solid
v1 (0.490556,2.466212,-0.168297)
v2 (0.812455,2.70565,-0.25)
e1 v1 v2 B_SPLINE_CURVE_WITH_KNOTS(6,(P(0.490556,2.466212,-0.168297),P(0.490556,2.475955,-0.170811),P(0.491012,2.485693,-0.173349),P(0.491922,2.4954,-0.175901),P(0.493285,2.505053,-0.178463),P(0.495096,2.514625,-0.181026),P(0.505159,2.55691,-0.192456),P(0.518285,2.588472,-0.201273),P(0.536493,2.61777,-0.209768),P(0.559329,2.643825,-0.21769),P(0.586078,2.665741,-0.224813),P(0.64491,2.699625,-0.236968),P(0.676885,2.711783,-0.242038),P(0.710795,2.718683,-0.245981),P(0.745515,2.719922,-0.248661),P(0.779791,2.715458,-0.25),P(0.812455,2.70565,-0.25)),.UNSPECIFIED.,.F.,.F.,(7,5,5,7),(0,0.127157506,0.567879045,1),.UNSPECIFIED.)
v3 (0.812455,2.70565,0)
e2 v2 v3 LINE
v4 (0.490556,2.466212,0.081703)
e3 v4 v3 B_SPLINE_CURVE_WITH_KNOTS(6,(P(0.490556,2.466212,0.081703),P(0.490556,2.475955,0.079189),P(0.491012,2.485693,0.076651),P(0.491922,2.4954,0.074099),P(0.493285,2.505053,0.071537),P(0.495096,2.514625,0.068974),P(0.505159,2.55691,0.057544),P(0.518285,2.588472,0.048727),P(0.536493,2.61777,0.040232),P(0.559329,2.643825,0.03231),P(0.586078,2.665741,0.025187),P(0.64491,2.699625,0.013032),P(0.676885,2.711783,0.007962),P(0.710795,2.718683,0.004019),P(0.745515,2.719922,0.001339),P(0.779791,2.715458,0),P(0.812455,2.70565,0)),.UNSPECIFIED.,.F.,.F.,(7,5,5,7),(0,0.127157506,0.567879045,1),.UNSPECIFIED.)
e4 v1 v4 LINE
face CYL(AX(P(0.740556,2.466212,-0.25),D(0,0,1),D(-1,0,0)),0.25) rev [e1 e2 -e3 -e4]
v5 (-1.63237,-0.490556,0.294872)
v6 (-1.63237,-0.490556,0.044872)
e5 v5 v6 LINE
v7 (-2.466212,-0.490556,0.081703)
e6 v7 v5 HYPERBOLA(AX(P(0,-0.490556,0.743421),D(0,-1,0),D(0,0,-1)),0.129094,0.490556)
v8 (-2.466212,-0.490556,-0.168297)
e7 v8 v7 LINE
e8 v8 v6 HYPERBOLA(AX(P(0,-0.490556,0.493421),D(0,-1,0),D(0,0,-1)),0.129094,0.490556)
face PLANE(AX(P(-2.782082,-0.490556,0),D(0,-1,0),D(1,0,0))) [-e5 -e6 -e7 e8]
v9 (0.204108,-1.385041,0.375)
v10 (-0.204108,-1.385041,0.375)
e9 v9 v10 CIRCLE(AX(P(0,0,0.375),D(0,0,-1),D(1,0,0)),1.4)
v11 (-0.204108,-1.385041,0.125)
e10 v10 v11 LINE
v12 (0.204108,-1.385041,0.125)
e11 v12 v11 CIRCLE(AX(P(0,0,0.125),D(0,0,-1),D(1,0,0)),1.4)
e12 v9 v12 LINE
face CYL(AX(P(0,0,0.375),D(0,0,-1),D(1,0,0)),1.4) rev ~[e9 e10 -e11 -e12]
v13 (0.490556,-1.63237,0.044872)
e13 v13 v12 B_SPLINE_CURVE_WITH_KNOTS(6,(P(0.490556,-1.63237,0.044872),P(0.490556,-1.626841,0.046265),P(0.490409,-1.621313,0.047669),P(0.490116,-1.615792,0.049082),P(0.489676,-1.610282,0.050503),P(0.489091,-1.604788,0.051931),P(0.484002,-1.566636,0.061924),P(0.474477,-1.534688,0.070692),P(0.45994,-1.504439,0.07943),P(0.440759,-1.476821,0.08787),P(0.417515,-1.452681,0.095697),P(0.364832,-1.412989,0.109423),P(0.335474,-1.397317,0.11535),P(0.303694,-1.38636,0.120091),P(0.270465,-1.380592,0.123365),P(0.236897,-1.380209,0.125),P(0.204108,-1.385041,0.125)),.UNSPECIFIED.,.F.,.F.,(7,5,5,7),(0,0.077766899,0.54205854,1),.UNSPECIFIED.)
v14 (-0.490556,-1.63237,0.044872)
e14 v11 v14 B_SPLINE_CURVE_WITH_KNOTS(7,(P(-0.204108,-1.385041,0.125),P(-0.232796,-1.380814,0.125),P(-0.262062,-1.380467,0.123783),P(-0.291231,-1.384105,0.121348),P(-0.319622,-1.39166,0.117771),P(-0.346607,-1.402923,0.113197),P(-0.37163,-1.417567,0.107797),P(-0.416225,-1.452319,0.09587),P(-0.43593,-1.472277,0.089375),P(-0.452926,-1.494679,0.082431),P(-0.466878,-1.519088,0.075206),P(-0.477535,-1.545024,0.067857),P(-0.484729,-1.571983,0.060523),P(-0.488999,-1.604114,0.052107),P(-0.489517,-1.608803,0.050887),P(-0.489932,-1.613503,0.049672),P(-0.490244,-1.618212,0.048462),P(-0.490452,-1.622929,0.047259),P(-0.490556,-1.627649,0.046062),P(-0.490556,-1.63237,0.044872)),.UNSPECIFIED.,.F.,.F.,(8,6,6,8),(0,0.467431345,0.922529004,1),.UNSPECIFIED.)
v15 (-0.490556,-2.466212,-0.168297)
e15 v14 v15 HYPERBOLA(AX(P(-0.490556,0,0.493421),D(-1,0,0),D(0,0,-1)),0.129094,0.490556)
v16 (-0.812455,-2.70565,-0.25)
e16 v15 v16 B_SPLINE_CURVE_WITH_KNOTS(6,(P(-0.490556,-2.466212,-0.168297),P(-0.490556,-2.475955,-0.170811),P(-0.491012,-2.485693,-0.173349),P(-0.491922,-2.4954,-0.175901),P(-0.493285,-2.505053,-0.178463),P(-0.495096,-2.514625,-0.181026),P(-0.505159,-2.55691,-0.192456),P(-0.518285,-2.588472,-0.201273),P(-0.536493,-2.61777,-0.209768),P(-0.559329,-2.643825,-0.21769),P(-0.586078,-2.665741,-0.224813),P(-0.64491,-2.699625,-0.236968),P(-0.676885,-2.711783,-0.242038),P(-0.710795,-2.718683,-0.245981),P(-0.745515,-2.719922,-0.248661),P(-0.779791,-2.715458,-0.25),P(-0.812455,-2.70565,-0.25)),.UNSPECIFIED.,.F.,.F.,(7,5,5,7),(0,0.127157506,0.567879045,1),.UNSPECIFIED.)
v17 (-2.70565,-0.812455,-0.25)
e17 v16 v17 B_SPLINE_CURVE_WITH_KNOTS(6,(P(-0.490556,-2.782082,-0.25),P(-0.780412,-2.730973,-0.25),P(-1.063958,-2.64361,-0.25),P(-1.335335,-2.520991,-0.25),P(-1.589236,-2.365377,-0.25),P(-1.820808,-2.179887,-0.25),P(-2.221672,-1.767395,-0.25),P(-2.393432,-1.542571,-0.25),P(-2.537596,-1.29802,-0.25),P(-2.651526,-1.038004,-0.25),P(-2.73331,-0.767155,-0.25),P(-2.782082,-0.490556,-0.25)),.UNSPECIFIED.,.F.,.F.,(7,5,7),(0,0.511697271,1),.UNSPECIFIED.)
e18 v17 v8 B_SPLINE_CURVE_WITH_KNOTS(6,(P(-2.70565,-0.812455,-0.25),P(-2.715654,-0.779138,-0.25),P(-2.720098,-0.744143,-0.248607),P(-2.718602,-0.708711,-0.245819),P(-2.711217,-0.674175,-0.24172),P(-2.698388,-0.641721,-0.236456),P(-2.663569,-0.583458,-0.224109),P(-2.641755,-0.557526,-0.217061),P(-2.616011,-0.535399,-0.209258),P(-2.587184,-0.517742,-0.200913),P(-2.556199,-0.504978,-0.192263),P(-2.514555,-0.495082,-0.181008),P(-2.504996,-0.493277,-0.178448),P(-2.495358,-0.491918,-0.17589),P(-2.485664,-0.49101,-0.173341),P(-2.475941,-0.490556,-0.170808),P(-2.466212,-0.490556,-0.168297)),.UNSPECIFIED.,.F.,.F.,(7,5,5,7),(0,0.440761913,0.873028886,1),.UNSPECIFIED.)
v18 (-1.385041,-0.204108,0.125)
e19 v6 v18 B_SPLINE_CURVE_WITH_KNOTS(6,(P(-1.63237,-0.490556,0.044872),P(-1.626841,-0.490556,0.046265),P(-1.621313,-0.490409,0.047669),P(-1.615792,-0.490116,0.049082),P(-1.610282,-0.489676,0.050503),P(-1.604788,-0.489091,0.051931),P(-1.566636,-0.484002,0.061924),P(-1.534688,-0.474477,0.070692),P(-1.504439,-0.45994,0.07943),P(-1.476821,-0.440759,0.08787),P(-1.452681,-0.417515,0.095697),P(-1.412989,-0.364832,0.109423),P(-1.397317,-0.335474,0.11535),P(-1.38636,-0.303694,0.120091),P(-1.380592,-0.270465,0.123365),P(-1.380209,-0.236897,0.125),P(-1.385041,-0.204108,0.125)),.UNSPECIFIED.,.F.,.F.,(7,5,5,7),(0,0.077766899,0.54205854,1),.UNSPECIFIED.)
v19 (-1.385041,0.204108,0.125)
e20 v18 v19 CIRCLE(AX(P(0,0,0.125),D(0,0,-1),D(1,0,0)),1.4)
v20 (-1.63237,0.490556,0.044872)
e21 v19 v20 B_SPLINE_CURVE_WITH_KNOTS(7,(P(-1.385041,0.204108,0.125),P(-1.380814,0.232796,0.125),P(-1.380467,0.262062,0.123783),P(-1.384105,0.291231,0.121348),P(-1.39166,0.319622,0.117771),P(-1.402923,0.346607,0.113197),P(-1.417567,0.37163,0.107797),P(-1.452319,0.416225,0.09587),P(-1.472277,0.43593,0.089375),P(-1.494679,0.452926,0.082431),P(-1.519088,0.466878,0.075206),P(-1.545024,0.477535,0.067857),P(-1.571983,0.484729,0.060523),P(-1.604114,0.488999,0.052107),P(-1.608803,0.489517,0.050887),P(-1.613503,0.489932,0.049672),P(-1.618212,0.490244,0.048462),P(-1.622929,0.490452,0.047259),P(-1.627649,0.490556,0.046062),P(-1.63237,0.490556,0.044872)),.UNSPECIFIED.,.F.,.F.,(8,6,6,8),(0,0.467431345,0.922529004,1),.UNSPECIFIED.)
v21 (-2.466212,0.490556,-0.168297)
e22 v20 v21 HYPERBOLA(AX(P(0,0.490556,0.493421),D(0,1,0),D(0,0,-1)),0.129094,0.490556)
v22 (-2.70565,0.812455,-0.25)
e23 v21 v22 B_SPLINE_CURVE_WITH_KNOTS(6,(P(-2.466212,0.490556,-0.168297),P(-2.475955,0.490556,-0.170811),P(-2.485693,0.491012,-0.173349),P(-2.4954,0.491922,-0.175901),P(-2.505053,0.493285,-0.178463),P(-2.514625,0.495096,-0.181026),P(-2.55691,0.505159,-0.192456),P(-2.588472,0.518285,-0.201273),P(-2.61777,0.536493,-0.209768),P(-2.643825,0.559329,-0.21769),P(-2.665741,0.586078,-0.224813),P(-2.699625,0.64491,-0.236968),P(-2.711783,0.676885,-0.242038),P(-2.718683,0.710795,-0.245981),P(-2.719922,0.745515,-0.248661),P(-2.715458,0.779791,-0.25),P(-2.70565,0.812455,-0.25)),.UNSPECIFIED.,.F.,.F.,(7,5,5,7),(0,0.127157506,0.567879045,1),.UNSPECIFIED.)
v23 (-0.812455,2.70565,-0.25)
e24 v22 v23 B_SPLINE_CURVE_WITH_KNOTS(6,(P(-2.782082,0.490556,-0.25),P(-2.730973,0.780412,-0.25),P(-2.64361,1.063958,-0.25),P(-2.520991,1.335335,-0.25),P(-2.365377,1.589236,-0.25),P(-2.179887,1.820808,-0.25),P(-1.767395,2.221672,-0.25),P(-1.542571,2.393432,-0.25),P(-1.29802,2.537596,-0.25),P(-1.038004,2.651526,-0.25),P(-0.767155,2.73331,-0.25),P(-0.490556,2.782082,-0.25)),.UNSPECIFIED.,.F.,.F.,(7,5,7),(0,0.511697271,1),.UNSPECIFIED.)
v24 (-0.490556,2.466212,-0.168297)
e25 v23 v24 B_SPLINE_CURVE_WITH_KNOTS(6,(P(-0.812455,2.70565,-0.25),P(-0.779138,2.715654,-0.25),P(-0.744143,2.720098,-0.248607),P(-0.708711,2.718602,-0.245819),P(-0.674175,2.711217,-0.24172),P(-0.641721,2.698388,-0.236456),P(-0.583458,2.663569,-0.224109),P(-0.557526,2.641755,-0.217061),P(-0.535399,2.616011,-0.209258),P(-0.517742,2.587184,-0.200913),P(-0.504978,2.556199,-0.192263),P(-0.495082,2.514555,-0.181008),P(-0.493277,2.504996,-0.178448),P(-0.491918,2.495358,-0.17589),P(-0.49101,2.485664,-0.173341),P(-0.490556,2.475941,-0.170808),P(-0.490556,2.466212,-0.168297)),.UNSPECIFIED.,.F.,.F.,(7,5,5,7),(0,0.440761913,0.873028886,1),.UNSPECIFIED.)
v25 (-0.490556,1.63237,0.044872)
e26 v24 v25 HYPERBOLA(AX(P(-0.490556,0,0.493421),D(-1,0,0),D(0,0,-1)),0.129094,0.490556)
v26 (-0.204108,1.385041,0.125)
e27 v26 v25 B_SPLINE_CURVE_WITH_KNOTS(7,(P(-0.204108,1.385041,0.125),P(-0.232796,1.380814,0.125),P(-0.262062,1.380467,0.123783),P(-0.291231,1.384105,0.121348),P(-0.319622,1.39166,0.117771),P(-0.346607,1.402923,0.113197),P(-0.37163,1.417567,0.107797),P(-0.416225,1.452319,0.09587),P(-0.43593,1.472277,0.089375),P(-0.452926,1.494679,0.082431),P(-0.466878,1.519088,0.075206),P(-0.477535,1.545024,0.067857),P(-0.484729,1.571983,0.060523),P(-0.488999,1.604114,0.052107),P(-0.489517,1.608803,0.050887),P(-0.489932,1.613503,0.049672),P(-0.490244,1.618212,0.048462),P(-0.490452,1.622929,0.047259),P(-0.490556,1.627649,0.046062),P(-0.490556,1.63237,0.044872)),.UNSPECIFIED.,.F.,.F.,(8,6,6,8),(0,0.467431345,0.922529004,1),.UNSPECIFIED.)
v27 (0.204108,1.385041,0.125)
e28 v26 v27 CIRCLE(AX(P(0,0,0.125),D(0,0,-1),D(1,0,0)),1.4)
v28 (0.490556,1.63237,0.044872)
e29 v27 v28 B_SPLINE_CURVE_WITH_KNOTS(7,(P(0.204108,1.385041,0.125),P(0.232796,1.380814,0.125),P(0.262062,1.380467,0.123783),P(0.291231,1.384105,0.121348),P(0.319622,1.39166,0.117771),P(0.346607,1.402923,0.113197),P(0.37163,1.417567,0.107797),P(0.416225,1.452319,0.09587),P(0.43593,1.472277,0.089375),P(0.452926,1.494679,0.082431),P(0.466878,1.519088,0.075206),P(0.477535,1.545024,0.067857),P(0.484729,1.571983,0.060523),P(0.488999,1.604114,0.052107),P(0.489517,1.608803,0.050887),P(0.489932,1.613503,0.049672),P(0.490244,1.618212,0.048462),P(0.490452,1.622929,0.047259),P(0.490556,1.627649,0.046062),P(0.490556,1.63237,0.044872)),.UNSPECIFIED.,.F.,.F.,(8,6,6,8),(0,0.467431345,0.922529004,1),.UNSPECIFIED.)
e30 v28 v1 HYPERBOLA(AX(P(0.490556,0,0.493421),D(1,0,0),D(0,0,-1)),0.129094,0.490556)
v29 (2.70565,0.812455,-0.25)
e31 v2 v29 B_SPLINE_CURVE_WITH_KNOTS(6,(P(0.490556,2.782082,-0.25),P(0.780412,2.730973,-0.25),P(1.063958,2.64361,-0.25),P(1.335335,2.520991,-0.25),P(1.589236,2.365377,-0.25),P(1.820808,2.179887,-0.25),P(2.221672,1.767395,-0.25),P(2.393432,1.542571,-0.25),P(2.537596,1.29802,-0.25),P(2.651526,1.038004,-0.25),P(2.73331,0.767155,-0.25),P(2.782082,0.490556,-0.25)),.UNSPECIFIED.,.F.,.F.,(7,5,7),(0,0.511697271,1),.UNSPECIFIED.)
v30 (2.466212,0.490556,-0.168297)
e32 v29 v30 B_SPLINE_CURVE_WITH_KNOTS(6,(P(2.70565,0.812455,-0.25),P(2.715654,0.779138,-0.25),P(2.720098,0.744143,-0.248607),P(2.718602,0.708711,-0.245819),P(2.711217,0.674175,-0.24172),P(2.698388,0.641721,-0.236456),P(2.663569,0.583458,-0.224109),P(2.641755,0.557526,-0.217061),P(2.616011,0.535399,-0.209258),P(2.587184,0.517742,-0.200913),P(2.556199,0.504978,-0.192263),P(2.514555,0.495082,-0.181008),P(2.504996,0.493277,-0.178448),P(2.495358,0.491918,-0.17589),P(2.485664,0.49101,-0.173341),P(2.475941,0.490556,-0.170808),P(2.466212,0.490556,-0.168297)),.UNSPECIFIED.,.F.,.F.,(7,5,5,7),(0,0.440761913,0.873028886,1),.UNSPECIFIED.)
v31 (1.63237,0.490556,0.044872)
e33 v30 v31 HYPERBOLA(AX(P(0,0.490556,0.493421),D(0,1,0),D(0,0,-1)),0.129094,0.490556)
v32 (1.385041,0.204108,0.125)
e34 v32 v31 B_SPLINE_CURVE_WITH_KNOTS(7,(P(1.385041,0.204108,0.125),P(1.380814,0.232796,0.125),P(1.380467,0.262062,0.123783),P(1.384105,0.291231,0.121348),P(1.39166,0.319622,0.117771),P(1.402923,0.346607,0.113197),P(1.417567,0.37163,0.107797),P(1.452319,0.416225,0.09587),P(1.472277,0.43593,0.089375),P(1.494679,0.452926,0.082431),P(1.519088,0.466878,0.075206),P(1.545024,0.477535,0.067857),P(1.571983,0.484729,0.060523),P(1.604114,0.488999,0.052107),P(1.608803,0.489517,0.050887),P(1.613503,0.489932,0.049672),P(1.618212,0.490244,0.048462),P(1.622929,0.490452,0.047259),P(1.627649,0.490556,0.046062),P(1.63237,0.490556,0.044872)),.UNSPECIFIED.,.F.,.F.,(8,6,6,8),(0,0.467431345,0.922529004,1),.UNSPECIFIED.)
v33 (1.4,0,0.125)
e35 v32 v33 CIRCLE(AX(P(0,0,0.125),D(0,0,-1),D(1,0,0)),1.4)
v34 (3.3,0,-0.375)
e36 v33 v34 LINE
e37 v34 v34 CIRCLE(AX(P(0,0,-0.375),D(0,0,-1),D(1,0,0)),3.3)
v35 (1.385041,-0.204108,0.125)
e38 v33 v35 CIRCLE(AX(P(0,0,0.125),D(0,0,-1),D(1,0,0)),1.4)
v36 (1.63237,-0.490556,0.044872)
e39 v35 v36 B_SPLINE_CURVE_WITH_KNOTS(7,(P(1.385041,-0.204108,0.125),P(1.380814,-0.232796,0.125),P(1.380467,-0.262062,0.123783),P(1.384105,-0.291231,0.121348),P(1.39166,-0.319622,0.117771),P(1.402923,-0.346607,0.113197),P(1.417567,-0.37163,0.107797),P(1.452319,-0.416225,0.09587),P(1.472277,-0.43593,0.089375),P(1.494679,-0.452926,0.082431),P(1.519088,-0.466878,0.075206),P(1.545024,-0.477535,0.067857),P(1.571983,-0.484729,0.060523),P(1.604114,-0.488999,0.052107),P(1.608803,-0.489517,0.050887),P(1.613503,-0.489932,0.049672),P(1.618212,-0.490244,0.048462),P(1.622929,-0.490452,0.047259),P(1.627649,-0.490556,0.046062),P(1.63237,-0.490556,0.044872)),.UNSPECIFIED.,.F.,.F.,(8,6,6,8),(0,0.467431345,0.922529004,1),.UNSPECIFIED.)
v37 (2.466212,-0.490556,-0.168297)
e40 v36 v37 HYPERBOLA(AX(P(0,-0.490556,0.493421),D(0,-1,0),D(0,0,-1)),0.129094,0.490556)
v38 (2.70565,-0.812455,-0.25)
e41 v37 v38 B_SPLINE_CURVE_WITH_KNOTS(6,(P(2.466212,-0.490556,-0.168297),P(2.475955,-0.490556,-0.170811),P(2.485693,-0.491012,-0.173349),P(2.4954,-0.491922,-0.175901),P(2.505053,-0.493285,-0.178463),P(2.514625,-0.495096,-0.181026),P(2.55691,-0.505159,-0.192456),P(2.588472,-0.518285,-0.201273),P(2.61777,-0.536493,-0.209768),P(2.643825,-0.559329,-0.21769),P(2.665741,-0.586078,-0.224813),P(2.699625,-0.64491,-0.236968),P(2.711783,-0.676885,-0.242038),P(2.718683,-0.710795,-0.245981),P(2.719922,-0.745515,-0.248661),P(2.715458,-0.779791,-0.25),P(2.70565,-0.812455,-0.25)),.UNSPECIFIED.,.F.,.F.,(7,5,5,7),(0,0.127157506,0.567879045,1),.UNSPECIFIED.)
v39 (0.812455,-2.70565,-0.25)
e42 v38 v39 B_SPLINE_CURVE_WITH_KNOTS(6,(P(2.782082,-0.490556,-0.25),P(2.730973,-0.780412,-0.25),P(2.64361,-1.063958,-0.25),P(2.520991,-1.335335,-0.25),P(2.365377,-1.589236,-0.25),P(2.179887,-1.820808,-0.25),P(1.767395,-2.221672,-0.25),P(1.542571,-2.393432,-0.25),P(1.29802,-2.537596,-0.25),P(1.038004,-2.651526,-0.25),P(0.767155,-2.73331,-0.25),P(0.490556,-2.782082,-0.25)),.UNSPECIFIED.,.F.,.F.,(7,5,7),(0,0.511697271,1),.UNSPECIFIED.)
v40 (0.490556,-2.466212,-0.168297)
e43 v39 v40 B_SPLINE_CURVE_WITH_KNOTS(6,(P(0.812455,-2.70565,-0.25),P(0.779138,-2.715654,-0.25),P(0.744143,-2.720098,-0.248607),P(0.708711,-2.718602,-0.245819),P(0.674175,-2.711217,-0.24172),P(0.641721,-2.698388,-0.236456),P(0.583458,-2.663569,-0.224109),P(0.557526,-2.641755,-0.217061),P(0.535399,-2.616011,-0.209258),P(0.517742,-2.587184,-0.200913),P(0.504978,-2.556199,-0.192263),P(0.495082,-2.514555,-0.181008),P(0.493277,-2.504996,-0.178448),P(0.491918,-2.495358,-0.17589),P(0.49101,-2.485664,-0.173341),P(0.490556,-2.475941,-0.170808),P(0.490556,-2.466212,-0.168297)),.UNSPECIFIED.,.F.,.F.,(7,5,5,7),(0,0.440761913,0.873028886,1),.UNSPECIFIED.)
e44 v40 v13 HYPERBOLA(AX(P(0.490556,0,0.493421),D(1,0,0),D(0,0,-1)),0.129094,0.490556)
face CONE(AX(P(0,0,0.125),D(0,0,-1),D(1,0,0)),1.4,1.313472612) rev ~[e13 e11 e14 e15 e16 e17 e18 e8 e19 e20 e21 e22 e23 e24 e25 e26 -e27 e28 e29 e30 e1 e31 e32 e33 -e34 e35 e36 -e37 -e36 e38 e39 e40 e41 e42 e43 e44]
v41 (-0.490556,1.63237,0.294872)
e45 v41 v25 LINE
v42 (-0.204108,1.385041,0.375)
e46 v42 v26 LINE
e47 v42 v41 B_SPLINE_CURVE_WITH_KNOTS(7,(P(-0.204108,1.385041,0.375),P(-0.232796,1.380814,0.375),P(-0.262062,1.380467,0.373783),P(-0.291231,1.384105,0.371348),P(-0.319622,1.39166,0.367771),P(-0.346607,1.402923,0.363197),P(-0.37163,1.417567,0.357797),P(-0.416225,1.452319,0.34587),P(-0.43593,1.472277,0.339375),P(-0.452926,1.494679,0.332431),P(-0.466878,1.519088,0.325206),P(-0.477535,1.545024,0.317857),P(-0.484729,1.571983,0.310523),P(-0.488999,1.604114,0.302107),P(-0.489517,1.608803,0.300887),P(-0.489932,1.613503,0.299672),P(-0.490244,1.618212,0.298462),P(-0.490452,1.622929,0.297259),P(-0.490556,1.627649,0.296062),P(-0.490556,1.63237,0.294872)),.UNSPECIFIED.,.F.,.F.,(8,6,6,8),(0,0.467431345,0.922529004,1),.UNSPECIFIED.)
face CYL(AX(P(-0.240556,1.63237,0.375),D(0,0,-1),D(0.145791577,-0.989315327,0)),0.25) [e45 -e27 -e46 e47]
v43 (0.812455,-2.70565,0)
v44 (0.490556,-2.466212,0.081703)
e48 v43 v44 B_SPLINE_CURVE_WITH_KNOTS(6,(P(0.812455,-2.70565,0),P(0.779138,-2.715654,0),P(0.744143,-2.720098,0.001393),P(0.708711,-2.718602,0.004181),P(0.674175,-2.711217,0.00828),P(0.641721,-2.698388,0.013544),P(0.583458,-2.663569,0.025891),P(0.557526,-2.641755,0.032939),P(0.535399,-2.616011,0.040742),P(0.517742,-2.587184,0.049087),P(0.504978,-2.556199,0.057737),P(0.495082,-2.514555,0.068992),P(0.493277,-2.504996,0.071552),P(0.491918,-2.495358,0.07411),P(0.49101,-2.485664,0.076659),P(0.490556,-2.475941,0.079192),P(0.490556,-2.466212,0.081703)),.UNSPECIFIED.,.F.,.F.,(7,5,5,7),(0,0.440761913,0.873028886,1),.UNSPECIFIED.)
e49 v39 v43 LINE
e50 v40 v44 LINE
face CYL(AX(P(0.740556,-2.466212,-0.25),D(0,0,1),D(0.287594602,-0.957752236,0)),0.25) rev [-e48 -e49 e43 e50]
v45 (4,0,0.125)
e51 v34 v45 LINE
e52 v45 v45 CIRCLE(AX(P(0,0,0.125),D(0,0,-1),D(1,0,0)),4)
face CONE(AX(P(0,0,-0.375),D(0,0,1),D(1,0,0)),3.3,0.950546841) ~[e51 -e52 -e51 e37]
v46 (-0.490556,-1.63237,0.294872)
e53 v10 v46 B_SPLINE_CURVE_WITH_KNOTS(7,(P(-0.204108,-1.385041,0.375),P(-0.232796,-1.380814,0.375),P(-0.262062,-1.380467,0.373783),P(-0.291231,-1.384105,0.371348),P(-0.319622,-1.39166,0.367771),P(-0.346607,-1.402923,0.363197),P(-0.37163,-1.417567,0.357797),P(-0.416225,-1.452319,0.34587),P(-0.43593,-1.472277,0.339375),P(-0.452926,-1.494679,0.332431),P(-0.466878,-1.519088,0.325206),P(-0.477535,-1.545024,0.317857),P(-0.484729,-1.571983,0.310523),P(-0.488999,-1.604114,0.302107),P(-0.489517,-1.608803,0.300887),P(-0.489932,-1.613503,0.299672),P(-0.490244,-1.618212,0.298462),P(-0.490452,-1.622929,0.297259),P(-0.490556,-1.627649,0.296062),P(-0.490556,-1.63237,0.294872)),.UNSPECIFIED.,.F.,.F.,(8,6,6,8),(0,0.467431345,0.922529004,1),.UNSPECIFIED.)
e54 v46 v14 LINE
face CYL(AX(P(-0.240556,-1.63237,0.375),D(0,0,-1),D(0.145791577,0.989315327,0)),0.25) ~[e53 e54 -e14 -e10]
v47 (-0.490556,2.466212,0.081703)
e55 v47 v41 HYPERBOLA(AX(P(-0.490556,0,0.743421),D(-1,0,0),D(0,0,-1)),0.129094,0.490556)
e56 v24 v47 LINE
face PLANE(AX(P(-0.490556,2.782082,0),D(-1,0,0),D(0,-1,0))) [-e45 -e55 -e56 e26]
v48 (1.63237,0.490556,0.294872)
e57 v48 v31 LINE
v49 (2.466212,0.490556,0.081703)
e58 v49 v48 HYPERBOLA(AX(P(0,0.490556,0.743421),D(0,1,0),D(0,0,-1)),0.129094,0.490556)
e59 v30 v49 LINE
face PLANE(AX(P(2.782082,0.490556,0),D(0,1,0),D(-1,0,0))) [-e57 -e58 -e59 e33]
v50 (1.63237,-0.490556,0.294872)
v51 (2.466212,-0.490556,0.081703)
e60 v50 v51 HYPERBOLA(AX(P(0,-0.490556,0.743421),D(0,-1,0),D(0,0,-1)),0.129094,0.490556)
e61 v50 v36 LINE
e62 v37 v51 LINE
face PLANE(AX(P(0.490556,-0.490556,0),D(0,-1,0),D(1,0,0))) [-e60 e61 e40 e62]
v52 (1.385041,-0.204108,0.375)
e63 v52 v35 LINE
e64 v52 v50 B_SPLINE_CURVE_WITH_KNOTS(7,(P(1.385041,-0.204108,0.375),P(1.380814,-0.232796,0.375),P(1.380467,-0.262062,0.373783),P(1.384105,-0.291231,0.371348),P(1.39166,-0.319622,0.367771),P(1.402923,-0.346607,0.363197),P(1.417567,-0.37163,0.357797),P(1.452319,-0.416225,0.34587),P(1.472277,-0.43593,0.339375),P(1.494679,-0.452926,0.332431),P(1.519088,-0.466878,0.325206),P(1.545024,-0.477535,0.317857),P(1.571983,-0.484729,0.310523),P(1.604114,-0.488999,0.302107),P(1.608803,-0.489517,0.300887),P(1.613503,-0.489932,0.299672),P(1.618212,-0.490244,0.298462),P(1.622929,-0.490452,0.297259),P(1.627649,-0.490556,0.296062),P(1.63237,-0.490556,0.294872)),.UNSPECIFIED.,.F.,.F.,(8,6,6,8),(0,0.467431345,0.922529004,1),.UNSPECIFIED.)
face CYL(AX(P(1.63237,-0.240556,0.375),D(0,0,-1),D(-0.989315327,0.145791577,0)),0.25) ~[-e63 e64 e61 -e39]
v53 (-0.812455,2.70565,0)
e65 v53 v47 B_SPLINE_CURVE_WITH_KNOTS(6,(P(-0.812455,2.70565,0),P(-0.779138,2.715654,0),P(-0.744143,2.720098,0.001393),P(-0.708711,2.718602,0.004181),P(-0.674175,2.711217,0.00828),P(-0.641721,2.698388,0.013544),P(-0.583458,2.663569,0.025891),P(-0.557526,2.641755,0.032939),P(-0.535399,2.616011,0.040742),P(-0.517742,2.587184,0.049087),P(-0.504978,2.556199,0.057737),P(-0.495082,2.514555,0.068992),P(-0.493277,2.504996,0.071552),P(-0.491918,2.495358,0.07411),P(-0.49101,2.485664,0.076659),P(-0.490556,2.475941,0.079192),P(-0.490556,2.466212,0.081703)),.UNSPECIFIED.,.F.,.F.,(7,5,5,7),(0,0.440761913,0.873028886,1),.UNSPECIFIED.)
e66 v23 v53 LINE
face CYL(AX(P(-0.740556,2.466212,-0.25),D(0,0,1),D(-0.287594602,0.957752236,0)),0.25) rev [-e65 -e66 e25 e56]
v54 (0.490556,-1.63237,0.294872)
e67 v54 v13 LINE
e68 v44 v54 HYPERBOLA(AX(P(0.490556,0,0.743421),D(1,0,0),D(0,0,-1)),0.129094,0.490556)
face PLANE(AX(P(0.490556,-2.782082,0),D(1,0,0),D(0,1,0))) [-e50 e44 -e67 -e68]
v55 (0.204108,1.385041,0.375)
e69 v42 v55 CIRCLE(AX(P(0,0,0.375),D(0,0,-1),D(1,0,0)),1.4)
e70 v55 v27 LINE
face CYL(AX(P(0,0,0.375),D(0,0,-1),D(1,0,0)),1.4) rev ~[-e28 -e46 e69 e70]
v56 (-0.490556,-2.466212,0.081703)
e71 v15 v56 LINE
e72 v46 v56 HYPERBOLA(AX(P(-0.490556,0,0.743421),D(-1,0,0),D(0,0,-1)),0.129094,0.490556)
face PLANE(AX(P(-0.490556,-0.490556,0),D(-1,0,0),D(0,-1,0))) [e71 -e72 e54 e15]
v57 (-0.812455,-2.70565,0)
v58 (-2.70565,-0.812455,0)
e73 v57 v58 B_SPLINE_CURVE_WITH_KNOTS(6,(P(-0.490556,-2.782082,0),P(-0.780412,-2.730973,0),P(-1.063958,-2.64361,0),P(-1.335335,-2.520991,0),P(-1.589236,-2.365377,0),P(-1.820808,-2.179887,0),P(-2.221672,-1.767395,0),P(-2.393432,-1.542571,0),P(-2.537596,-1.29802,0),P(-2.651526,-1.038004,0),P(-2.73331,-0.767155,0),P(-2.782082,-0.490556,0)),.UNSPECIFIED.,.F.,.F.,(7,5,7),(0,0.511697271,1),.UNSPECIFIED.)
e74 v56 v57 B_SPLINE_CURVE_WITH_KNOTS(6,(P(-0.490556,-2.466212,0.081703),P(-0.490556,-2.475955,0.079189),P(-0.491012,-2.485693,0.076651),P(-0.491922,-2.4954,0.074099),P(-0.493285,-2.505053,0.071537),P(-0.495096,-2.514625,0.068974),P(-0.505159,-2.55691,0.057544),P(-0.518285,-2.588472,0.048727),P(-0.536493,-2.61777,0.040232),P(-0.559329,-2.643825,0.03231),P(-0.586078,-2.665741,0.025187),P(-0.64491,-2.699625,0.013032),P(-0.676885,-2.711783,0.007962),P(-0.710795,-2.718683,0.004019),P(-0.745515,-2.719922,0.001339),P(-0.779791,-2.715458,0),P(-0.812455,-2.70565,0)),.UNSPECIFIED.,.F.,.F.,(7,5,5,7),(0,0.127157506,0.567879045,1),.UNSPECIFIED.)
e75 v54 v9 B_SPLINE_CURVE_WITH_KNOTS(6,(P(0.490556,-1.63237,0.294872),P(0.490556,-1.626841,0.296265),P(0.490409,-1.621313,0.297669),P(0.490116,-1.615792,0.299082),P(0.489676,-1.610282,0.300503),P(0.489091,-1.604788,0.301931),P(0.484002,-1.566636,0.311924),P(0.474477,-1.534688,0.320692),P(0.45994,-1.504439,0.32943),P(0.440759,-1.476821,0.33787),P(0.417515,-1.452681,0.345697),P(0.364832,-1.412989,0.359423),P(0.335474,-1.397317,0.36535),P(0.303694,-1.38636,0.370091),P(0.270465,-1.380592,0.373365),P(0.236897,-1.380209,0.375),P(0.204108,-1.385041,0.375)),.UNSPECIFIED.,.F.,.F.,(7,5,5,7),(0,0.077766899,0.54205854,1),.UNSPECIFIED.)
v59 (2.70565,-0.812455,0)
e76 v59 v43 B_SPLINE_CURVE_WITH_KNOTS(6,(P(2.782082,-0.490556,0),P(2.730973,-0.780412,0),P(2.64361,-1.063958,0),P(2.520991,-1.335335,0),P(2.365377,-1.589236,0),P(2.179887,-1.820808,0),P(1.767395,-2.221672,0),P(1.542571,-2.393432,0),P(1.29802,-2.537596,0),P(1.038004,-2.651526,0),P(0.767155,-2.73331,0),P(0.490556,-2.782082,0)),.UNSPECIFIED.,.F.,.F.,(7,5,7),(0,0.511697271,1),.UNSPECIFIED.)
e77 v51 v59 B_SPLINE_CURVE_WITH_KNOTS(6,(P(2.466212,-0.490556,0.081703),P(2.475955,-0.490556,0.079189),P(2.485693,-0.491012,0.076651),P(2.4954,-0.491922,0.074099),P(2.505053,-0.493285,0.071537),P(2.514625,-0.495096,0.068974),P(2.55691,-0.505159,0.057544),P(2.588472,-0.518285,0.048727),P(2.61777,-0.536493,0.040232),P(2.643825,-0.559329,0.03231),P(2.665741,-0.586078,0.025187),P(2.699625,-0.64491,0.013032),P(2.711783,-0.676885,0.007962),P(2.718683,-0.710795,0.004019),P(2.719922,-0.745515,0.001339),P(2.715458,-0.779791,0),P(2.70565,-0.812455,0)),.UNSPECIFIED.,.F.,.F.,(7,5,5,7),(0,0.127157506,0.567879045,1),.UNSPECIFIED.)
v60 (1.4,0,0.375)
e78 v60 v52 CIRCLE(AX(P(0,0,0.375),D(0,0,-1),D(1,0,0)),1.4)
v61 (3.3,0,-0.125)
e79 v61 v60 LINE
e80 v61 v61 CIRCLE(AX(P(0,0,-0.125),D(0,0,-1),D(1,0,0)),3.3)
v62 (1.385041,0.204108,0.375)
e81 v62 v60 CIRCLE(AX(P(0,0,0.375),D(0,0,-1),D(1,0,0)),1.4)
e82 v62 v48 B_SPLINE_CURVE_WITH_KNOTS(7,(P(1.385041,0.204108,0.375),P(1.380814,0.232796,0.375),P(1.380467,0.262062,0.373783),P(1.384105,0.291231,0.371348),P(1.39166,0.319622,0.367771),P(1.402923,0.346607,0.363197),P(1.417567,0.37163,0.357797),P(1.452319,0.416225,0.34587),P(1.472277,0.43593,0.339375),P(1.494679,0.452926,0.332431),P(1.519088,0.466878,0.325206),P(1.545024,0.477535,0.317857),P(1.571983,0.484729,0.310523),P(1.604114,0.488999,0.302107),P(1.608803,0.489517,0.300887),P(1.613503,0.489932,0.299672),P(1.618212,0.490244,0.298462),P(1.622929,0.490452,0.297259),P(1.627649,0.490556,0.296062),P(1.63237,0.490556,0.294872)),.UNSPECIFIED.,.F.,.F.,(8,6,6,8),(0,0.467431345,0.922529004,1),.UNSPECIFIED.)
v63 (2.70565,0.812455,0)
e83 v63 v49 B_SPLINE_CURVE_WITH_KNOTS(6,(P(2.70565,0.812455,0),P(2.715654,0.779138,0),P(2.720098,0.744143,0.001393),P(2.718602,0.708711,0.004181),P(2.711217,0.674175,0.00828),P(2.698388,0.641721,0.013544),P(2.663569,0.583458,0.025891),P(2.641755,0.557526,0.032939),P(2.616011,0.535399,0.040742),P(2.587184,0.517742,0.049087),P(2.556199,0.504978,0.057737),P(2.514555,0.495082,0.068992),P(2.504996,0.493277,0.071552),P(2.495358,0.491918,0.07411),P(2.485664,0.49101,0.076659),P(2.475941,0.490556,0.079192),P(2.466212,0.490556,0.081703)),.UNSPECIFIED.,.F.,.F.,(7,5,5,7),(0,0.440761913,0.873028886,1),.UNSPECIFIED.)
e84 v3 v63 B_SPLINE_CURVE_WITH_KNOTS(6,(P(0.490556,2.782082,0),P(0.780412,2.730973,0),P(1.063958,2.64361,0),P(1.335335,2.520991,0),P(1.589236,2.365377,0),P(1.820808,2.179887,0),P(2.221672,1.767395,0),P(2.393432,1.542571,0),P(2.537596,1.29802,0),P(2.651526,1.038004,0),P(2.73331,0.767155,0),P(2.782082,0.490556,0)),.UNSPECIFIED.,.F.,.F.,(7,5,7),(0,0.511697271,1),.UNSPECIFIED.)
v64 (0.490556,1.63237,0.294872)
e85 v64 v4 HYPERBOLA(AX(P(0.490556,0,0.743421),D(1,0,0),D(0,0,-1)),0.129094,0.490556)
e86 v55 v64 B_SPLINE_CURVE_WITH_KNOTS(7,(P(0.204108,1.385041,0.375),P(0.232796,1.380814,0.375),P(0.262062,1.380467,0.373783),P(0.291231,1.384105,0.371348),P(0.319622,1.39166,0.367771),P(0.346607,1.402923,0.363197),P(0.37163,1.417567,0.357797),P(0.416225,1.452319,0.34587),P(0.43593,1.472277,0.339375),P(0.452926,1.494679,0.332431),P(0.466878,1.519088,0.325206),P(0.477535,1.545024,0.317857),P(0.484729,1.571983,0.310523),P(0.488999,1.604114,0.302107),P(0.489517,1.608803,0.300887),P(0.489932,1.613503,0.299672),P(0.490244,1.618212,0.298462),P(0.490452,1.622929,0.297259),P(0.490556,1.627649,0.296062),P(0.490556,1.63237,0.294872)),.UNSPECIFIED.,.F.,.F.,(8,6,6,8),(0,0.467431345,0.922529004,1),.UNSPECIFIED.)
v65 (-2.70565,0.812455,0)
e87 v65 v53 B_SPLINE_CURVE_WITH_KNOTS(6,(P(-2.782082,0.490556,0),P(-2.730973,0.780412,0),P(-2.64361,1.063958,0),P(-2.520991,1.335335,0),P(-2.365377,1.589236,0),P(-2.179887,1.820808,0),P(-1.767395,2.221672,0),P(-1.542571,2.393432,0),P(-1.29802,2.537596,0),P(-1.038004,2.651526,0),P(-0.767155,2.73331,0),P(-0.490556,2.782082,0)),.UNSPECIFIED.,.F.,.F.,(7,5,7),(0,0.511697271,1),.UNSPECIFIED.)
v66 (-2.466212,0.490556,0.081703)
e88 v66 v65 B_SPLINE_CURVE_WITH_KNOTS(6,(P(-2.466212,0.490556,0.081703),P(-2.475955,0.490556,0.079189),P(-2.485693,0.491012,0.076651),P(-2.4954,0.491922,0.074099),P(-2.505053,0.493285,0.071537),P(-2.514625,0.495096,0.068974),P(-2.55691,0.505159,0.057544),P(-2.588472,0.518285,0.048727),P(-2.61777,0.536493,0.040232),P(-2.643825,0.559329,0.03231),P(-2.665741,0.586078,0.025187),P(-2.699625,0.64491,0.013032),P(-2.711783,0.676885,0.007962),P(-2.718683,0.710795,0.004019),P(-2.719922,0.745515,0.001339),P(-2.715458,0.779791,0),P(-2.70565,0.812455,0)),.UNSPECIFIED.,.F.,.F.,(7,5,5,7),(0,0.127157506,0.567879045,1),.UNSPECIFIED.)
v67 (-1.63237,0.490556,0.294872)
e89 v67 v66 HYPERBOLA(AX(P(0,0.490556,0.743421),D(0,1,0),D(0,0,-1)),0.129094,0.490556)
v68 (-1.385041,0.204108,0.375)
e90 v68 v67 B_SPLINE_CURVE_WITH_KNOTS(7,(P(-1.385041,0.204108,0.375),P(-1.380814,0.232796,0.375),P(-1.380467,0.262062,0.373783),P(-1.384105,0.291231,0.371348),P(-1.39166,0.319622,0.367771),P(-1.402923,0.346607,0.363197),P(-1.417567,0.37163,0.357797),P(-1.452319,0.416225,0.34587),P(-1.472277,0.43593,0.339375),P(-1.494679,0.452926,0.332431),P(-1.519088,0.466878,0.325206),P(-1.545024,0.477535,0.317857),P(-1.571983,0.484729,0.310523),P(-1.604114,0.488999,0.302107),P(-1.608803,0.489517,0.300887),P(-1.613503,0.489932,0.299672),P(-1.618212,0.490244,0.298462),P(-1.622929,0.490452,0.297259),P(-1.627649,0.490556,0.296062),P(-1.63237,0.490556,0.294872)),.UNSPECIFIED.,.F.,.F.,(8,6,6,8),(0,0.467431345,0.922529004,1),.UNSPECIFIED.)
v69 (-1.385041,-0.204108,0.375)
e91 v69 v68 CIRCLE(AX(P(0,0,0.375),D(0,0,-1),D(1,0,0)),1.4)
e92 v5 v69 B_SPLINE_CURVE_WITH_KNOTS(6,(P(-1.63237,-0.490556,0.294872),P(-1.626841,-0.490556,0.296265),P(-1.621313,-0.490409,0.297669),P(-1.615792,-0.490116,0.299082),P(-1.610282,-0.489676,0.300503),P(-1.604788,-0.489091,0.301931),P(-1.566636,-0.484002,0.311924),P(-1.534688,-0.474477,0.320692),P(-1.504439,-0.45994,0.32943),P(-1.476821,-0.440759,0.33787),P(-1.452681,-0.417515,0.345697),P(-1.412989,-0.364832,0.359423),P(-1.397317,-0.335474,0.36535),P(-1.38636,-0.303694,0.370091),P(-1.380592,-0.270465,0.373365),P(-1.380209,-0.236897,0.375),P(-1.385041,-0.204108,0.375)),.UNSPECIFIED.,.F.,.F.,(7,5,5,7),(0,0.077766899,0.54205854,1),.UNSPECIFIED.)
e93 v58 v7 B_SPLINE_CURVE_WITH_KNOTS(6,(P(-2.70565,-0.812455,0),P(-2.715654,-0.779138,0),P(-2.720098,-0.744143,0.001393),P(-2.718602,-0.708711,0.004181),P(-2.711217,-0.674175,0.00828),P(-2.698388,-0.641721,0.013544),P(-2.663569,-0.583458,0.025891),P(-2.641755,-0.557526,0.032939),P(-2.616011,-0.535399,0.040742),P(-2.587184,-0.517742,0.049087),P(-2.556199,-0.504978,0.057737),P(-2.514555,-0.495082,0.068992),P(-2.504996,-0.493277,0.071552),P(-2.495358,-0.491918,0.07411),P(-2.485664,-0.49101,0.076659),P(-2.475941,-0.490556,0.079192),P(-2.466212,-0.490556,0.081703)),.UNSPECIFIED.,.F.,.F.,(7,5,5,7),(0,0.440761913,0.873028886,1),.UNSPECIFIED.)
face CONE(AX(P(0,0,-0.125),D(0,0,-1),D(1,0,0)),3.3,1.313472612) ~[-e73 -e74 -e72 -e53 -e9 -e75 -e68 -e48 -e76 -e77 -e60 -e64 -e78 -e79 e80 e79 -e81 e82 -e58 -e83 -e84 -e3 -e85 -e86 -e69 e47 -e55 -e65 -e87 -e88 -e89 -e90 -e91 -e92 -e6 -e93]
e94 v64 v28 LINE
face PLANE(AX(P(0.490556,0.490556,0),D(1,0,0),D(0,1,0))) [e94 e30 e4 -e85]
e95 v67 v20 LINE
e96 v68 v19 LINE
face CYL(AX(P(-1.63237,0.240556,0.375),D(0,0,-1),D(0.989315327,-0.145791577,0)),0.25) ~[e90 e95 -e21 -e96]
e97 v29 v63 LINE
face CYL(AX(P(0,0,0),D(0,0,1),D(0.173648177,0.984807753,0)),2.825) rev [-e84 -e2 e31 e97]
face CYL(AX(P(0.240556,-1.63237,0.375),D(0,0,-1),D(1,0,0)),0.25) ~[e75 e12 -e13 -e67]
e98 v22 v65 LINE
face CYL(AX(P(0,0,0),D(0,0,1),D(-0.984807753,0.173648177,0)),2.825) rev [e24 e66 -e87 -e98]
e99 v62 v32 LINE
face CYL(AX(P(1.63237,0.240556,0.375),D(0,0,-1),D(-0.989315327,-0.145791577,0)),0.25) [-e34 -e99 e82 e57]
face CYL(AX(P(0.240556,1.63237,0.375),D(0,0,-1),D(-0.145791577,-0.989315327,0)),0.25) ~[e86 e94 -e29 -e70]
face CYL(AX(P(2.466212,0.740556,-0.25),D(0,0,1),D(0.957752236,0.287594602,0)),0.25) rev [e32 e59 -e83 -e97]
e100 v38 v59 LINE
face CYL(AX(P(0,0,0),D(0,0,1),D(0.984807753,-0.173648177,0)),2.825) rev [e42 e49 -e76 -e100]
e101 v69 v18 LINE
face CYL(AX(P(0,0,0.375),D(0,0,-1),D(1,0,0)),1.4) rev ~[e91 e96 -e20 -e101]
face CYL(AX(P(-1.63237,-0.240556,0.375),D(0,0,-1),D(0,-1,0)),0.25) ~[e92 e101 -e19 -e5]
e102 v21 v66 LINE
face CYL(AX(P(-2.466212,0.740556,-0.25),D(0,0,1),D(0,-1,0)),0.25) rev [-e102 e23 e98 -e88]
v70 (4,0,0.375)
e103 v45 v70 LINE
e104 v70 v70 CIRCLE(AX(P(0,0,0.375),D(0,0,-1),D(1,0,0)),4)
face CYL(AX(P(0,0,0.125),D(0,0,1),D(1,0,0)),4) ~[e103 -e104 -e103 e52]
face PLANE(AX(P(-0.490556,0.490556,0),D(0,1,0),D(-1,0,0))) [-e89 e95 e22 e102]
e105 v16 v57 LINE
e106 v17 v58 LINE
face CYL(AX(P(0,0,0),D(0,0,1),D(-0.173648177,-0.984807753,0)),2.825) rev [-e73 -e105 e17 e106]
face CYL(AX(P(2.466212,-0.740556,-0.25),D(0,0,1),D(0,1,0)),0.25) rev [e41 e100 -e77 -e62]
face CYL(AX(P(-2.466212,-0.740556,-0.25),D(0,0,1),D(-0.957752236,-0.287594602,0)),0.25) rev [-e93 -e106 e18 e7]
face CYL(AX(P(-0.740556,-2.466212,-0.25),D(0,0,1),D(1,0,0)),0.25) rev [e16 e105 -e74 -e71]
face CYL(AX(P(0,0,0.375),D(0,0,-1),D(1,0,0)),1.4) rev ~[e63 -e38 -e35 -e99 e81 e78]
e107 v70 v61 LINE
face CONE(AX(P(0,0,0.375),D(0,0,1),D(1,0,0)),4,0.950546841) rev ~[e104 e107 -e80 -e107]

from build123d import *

# Parameters (mm, degrees)
CUT_EXTRUDE1_DEPTH       = 6.669270235
FILLET1_R                = 0.25
CIRPATTERN1_COUNT        = 4
FILLET1_OF_CIRPATTERN1_R = 0.25


with BuildPart() as part:
    # Sketch2 → Revolve1 (revolve)
    with BuildSketch(Plane(origin=(0, 0, 0), x_dir=(0, 0, -1), z_dir=(1, 0, 0))):
        Polygon((-0.375, 4), (0.125, 3.3), (-0.375, 1.4), (-0.125, 1.4), (0.375, 3.3), (-0.125, 4), align=None)
    revolve(axis=Axis((0, 0, 0.375), (0, 0, -1)))

    # Sketch3 → Cut-Extrude1 (cut, symmetric)
    with BuildSketch(Plane.XY):
        with BuildLine():
            Line((-0.490556102, 2.782081902), (-0.490556102, 0.490556102))
            Line((-0.490556102, 0.490556102), (-2.782081902, 0.490556102))
            ThreePointArc((-2.782081902, 0.490556102), (-1.997576657, 1.997576657), (-0.490556102, 2.782081902))
        make_face()
    cut_extrude1 = extrude(amount=CUT_EXTRUDE1_DEPTH, both=True, mode=Mode.SUBTRACT)

    # Fillet1
    fillet1_edges = [part.edges().sort_by_distance(p)[0] for p in [
        (-1.311241668, 0.490556102, 0.25),
        (-0.490556102, 1.311241668, 0.25),
        (-2.782081902, 0.490556102, -0.125),
        (-0.490556102, 2.782081902, -0.125),
    ]]
    fillet(fillet1_edges, radius=FILLET1_R)

    # CirPattern1: Cut-Extrude1 ×4 about axis
    cirpattern1_axis = Axis((0, 0, 0.375), (0, 0, 1))
    for i in range(1, CIRPATTERN1_COUNT):
        add(cut_extrude1.rotate(cirpattern1_axis, i * 360 / CIRPATTERN1_COUNT), mode=Mode.SUBTRACT)

    # Fillet1 of CirPattern1
    fillet1_of_cirpattern1_edges = [part.edges().sort_by_distance(p)[0] for p in [
        (-0.490556102, -1.311241668, 0.25),
        (-1.311241668, -0.490556102, 0.25),
        (-0.490556102, -2.782081902, -0.125),
        (-2.782081902, -0.490556102, -0.125),
        (1.311241668, -0.490556102, 0.25),
        (0.490556102, -1.311241668, 0.25),
        (2.782081902, -0.490556102, -0.125),
        (0.490556102, -2.782081902, -0.125),
        (0.490556102, 1.311241668, 0.25),
        (1.311241668, 0.490556102, 0.25),
        (0.490556102, 2.782081902, -0.125),
        (2.782081902, 0.490556102, -0.125),
    ]]
    fillet(fillet1_of_cirpattern1_edges, radius=FILLET1_OF_CIRPATTERN1_R)


solid = part.part
